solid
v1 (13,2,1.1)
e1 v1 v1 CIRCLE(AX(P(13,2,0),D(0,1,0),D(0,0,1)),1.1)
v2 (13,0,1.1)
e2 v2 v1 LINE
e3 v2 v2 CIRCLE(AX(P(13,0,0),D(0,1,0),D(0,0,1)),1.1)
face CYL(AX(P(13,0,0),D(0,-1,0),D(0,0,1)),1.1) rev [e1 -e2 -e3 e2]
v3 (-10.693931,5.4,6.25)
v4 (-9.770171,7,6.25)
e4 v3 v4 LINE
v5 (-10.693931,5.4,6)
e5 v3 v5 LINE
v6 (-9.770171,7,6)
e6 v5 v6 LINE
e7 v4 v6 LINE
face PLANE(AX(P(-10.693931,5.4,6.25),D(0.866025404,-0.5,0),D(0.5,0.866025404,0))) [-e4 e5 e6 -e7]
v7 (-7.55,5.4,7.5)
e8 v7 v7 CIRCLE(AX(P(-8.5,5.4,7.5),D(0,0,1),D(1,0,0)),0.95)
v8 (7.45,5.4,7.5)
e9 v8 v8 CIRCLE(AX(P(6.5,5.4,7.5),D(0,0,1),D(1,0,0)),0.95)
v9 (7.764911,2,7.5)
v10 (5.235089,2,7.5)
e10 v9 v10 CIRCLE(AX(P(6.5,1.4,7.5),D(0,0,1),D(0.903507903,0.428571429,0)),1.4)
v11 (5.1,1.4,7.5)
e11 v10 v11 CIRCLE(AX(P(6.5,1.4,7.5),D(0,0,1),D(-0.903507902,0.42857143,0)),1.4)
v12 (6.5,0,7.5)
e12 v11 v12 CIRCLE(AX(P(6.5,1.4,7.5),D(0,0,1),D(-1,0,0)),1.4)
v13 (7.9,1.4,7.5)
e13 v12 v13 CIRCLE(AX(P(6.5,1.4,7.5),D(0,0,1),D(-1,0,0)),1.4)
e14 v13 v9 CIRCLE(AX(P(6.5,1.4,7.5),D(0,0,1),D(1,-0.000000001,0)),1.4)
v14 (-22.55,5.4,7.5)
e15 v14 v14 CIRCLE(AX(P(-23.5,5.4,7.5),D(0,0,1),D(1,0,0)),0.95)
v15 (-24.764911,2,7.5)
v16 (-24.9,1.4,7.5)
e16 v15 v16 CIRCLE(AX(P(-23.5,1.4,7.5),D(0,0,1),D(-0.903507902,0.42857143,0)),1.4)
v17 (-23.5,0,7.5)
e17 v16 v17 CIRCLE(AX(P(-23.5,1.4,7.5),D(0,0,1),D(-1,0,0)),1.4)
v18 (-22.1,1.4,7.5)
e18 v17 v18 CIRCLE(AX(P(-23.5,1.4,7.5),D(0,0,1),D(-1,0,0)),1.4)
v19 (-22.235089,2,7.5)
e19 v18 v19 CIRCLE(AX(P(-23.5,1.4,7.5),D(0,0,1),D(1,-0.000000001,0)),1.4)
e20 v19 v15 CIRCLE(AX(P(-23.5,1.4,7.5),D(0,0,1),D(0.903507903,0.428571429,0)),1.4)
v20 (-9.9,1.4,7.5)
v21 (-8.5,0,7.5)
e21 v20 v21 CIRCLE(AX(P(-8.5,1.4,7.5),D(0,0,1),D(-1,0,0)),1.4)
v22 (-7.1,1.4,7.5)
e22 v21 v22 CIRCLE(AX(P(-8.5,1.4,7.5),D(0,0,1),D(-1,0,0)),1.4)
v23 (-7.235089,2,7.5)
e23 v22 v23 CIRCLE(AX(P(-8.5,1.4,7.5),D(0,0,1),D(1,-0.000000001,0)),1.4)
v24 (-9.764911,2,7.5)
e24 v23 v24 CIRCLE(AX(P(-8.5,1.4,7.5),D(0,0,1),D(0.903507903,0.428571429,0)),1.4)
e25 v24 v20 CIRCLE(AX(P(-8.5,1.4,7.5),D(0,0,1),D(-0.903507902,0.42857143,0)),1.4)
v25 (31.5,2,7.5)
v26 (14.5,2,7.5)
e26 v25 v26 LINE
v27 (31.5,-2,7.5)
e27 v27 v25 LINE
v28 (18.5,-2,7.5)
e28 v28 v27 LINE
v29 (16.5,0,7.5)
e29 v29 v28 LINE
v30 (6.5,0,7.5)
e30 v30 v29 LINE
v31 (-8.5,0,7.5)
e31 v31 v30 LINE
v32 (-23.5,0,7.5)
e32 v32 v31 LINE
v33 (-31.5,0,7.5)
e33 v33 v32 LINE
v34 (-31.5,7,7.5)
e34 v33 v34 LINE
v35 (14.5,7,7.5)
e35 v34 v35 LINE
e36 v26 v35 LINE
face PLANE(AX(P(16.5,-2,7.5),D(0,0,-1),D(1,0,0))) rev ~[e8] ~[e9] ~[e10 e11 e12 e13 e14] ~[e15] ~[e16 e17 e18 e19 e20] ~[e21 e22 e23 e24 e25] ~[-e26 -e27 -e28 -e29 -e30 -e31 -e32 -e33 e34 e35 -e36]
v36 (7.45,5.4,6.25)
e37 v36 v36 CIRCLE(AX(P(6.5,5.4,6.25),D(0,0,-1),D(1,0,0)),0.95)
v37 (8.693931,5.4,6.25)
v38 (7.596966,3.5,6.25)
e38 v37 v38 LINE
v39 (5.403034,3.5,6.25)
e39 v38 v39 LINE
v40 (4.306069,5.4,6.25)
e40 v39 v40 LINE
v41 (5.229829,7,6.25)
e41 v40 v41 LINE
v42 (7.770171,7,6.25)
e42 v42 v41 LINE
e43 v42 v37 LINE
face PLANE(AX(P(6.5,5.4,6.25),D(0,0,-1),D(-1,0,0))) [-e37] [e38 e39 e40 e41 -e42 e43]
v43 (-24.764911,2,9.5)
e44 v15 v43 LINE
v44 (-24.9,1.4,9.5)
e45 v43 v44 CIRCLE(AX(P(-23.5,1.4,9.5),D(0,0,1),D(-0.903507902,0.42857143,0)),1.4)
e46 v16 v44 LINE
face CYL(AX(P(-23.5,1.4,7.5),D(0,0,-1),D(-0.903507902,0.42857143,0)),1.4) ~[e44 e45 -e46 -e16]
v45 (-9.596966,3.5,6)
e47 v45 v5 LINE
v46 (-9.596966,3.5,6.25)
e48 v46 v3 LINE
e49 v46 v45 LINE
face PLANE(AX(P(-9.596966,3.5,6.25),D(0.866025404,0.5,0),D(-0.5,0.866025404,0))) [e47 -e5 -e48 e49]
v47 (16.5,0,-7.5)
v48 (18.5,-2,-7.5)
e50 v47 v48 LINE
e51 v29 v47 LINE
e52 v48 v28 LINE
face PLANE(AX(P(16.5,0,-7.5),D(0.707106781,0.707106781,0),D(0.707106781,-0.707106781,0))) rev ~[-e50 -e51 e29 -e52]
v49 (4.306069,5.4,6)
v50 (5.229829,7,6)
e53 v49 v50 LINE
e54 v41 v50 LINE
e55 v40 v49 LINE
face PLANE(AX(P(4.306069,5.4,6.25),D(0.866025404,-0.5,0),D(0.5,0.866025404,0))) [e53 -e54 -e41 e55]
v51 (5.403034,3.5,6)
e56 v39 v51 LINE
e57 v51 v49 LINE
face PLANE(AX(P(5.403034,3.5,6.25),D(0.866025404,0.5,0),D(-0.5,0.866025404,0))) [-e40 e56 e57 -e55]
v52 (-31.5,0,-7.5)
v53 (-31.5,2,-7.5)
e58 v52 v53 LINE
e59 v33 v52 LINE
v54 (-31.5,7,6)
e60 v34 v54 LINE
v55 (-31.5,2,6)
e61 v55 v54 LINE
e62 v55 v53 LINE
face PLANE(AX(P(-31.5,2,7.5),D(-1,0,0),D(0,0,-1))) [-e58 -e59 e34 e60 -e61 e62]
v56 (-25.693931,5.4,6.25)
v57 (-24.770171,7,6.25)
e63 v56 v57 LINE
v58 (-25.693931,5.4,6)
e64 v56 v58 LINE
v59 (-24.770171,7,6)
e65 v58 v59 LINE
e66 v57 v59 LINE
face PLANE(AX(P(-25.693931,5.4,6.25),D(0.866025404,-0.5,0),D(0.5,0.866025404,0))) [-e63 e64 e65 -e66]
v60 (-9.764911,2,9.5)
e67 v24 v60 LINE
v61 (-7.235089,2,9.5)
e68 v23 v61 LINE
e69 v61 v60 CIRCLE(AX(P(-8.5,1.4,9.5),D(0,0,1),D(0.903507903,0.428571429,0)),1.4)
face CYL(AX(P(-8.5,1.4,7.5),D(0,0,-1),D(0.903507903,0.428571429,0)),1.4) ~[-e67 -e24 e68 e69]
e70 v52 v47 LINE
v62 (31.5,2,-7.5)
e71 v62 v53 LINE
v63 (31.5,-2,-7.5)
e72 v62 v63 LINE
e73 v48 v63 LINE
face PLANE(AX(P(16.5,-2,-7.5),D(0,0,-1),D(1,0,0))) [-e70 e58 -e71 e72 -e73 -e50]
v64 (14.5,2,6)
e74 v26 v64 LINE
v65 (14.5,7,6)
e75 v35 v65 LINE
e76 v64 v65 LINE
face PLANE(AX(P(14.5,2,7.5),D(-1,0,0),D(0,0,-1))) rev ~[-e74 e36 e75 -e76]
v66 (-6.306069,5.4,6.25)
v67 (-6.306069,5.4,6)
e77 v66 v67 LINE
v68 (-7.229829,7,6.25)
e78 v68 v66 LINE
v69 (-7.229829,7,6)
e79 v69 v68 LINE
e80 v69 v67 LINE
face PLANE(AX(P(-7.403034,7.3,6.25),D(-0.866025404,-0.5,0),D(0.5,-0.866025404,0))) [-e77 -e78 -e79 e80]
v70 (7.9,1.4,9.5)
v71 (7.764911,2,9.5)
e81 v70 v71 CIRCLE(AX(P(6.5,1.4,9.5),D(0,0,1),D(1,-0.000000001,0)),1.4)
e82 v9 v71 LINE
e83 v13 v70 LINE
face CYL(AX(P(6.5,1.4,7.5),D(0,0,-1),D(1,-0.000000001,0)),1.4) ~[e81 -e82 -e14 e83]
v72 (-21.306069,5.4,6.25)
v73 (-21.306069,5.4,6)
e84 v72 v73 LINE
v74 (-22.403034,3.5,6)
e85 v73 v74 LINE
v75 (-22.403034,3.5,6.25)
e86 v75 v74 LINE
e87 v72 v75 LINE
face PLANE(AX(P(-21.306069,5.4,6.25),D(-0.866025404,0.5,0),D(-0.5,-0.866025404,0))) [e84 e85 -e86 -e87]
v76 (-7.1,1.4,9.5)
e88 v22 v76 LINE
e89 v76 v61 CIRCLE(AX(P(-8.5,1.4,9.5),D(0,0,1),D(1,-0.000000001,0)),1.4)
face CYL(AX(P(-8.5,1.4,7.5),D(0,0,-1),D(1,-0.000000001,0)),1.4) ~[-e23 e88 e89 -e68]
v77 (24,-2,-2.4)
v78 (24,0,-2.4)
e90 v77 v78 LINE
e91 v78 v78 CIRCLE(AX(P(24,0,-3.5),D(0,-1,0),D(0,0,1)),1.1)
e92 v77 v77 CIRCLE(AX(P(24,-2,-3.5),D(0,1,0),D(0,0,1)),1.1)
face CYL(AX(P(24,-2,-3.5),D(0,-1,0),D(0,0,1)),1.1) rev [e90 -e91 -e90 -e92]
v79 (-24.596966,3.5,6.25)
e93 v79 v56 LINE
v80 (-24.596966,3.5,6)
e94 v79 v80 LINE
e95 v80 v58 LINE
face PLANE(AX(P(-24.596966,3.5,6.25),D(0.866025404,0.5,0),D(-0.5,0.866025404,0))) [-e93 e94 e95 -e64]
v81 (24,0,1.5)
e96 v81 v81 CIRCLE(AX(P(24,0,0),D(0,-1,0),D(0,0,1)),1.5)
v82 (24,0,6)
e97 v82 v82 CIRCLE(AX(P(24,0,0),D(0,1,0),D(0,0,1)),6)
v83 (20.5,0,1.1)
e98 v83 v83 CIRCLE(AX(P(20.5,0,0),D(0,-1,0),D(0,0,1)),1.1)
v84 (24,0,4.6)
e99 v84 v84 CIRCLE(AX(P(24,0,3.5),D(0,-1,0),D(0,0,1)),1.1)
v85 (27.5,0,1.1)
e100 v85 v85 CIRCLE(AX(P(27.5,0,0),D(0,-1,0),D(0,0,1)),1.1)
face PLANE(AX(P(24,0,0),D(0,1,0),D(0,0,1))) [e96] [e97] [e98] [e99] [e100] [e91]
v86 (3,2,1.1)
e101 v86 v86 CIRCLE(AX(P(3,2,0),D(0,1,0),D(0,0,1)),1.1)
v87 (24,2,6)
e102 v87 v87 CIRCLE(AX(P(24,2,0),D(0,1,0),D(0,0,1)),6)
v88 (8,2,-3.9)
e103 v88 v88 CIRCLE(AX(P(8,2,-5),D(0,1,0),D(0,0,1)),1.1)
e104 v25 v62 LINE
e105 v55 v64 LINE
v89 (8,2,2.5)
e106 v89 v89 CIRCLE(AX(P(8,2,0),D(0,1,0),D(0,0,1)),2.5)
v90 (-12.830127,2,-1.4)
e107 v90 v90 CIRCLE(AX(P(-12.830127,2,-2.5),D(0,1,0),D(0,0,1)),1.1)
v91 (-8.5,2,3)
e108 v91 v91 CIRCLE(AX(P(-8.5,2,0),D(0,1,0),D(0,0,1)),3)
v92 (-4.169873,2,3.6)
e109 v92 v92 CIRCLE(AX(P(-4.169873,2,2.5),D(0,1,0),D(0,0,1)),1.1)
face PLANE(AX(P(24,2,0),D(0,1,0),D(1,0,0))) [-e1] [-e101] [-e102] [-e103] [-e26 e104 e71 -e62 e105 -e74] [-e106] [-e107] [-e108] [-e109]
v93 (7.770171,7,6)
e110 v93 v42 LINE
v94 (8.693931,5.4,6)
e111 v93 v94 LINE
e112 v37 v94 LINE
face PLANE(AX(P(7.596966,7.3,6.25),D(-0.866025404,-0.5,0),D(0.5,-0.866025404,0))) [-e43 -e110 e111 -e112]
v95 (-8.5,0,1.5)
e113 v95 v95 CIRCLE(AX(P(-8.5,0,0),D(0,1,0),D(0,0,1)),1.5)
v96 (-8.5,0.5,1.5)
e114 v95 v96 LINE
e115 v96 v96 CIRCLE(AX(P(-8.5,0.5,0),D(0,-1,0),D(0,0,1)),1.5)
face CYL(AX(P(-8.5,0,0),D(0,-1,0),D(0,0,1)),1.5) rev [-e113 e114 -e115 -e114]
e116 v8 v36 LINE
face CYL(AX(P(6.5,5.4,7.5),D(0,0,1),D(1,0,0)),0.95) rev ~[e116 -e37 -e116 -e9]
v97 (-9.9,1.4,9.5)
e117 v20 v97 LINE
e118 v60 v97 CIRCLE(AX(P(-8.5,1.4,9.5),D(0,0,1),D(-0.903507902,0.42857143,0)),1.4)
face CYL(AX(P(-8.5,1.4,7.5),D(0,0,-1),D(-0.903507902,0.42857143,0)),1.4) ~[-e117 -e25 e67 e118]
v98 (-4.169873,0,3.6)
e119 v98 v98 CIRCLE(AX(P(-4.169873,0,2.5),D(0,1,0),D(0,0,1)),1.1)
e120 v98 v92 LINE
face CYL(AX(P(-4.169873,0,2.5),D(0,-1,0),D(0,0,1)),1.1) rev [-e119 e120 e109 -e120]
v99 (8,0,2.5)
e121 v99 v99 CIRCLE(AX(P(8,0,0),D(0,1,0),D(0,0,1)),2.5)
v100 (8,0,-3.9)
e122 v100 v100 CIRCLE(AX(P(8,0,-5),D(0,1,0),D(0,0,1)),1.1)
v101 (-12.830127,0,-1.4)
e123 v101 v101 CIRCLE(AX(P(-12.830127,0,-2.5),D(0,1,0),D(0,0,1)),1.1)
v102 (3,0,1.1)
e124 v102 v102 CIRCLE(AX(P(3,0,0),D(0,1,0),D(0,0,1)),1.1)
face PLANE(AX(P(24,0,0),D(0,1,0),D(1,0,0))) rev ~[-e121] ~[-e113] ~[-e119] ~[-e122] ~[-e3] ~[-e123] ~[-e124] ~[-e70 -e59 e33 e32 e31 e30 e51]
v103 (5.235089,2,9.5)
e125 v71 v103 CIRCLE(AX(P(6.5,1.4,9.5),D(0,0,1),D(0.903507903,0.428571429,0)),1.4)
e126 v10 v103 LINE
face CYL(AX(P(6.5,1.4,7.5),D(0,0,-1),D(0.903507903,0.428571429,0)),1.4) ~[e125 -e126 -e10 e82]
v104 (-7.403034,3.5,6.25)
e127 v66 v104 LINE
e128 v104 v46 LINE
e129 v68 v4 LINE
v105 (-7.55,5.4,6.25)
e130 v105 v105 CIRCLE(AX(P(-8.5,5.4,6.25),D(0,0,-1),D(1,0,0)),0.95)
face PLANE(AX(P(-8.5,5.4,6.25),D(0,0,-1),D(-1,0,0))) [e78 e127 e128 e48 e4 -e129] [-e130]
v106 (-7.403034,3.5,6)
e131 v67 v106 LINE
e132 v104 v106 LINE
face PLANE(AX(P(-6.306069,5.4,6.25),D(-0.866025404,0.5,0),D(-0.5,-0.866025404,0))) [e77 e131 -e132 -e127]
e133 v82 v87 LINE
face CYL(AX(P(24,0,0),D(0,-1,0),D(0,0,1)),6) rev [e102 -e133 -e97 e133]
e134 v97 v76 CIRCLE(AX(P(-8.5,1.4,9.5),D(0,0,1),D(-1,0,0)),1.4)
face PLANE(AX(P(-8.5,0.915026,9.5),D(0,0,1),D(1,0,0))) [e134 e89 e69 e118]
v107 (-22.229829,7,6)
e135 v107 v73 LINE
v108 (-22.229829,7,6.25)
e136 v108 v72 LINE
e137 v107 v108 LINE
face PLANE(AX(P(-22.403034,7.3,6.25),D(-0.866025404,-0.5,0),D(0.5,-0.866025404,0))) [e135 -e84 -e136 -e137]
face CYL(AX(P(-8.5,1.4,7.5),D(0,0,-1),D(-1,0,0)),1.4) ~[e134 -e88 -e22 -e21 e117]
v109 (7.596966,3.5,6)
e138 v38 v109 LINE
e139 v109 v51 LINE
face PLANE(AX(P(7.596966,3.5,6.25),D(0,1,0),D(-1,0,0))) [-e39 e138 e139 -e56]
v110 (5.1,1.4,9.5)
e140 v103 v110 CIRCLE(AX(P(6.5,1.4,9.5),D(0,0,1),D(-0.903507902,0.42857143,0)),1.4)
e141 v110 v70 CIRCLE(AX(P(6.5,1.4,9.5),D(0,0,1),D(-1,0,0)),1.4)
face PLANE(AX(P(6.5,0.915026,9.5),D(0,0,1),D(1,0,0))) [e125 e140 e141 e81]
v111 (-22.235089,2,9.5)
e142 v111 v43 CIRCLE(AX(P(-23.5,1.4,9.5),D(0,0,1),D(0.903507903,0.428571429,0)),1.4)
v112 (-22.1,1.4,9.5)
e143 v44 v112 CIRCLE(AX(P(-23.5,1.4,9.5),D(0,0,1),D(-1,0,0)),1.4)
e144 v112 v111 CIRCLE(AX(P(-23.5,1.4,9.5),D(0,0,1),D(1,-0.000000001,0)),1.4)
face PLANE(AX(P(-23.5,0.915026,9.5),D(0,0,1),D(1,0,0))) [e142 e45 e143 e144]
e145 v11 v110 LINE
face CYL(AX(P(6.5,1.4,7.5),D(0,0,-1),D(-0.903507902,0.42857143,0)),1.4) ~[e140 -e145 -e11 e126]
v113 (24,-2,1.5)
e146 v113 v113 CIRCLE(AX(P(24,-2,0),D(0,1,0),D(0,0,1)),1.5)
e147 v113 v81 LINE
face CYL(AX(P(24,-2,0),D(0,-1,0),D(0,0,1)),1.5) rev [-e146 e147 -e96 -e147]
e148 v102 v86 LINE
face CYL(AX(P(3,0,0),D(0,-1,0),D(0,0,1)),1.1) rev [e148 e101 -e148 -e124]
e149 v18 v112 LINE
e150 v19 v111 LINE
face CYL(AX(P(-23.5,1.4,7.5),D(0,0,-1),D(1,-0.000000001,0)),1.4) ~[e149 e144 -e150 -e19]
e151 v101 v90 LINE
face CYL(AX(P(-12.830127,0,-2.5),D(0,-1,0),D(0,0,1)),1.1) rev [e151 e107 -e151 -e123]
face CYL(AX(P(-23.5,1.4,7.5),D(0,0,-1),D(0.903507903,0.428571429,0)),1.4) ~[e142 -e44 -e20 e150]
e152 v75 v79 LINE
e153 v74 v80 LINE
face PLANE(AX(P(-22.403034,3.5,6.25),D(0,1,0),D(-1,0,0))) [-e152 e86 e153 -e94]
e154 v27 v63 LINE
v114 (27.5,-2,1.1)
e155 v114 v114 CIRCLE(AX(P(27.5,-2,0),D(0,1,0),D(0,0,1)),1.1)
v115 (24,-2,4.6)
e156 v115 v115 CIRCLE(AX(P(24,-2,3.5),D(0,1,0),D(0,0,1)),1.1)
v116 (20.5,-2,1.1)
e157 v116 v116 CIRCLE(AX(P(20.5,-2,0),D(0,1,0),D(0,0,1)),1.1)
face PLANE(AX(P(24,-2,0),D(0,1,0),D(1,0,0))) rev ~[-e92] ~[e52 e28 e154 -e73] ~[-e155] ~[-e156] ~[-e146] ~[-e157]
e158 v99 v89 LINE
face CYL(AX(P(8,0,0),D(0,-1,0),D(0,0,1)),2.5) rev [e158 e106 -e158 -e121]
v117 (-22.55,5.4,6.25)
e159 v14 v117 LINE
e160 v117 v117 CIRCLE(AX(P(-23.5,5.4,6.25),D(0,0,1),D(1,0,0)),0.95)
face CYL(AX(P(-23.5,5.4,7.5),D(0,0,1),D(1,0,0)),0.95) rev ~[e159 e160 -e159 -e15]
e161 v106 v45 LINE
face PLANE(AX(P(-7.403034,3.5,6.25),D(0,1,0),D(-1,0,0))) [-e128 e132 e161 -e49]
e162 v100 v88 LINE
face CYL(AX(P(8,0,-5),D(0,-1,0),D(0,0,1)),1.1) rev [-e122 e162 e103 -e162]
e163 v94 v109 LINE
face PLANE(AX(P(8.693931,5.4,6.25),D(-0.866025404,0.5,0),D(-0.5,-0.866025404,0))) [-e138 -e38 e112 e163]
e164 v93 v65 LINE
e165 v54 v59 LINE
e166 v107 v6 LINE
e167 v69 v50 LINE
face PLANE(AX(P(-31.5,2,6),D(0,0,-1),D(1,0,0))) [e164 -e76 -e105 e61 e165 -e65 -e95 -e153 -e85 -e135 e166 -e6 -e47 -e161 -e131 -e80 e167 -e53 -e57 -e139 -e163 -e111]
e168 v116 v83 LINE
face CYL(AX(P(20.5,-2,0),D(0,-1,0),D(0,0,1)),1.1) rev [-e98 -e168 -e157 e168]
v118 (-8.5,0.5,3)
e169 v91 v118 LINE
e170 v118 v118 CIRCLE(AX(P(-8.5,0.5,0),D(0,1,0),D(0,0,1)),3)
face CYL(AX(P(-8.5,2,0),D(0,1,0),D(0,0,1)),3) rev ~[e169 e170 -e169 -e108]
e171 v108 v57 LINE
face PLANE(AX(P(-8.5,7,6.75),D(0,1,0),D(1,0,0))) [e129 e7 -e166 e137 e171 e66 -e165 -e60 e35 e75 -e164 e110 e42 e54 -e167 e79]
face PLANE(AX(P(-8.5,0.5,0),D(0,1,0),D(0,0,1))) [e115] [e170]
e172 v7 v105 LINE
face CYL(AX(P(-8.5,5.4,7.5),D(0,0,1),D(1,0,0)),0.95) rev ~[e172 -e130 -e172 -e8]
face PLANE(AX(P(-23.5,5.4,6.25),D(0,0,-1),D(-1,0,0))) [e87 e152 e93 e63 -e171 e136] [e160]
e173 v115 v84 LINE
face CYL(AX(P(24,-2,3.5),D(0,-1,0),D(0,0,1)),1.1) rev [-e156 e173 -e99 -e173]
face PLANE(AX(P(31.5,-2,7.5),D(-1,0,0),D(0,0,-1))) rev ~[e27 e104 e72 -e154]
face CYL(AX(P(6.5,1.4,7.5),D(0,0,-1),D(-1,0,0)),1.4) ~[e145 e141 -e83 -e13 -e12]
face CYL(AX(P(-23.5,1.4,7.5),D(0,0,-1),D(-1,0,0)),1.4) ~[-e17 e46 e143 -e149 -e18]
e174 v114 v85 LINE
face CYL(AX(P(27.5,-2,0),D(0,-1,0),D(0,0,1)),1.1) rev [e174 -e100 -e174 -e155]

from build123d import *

# Parameters (mm, degrees)
SKETCH_1_W          = 48
SKETCH_1_H          = 15
SKETCH_1_R          = 1.1
SKETCH_1_R_2        = 1.5
SKETCH_1_R_3        = 2.5
EXTRUDE_1_DEPTH     = 2
EXTRUDE_2_DEPTH     = 2
SKETCH_4_R          = 3
CUT_EXTRUDE_1_DEPTH = 1.5
SKETCH_5_W          = 46
SKETCH_5_H          = 1.5
EXTRUDE_3_DEPTH     = 5
SKETCH_2_3_R        = 0.95
CUT_EXTRUDE_2_DEPTH = 6
CUT_EXTRUDE_START   = -0.25
SKETCH_7_R          = 0.95
CUT_EXTRUDE_3_DEPTH = 0.25
SKETCH_1_3_W        = 15
SKETCH_1_3_H        = 15
SKETCH_1_3_R        = 6
SKETCH_1_3_R_2      = 1.5
SKETCH_1_3_R_3      = 1.1
EXTRUDE_4_DEPTH     = 2
EXTRUDE_START       = -2
SKETCH_1_4_W        = 15
SKETCH_1_4_H        = 15
SKETCH_1_4_R        = 6
SKETCH_1_4_R_2      = 1.5
SKETCH_1_4_R_3      = 1.1
EXTRUDE_5_DEPTH     = 2
SKETCH_1_5_R        = 6
CUT_EXTRUDE_4_DEPTH = 2
CUT_EXTRUDE_5_DEPTH = 15


with BuildPart() as part:
    # 草图1 → 凸台-拉伸1 (new body)
    with BuildSketch(Plane(origin=(0, 0, 0), x_dir=(1, 0, 0), z_dir=(0, 1, 0))):
        with Locations((-7.5, 0)):
            Rectangle(SKETCH_1_W, SKETCH_1_H)
        with Locations(Location((-4.169872981, -2.5, 0), (0, 0, 270))):
            Circle(SKETCH_1_R, mode=Mode.SUBTRACT)
        with Locations(Location((3, 0, 0), (0, 0, 270))):
            Circle(SKETCH_1_R, mode=Mode.SUBTRACT)
        with Locations(Location((-8.5, 0, 0), (0, 0, 270))):
            Circle(SKETCH_1_R_2, mode=Mode.SUBTRACT)
        with Locations(Location((-12.830127019, 2.5, 0), (0, 0, 270))):
            Circle(SKETCH_1_R, mode=Mode.SUBTRACT)
        with Locations(Location((8, 0, 0), (0, 0, 270))):
            Circle(SKETCH_1_R_3, mode=Mode.SUBTRACT)
        with Locations(Location((13, 0, 0), (0, 0, 270))):
            Circle(SKETCH_1_R, mode=Mode.SUBTRACT)
        with Locations(Location((8, 5, 0), (0, 0, 270))):
            Circle(SKETCH_1_R, mode=Mode.SUBTRACT)
    extrude(amount=EXTRUDE_1_DEPTH)

    # 草图2 → 凸台-拉伸2 (add)
    with BuildSketch(Plane.XY.offset(7.5)):
        with BuildLine():
            Line((-22.1, 1.4), (-24.9, 1.4))
            ThreePointArc((-24.9, 1.4), (-23.5, 0), (-22.1, 1.4))
        make_face()
        with BuildLine():
            ThreePointArc((-24.764911064, 2), (-24.865810289, 1.707509764), (-24.9, 1.4))
            Line((-24.9, 1.4), (-22.1, 1.4))
            ThreePointArc((-22.1, 1.4), (-22.134189711, 1.707509764), (-22.235088936, 2))
            Line((-22.235088936, 2), (-24.764911064, 2))
        make_face()
        with BuildLine():
            ThreePointArc((-22.235088936, 2), (-23.5, 2.8), (-24.764911064, 2))
            Line((-24.764911064, 2), (-22.235088936, 2))
        make_face()
        with BuildLine():
            Line((-7.1, 1.4), (-9.9, 1.4))
            ThreePointArc((-9.9, 1.4), (-8.5, 0), (-7.1, 1.4))
        make_face()
        with BuildLine():
            ThreePointArc((-9.764911064, 2), (-9.865810289, 1.707509764), (-9.9, 1.4))
            Line((-9.9, 1.4), (-7.1, 1.4))
            ThreePointArc((-7.1, 1.4), (-7.134189711, 1.707509764), (-7.235088936, 2))
            Line((-7.235088936, 2), (-9.764911064, 2))
        make_face()
        with BuildLine():
            ThreePointArc((-7.235088936, 2), (-8.5, 2.8), (-9.764911064, 2))
            Line((-9.764911064, 2), (-7.235088936, 2))
        make_face()
        with BuildLine():
            Line((7.9, 1.4), (5.1, 1.4))
            ThreePointArc((5.1, 1.4), (6.5, 0), (7.9, 1.4))
        make_face()
        with BuildLine():
            ThreePointArc((5.235088936, 2), (5.134189711, 1.707509764), (5.1, 1.4))
            Line((5.1, 1.4), (7.9, 1.4))
            ThreePointArc((7.9, 1.4), (7.865810289, 1.707509764), (7.764911064, 2))
            Line((7.764911064, 2), (5.235088936, 2))
        make_face()
        with BuildLine():
            ThreePointArc((7.764911064, 2), (6.5, 2.8), (5.235088936, 2))
            Line((5.235088936, 2), (7.764911064, 2))
        make_face()
    extrude(amount=EXTRUDE_2_DEPTH)

    # 草图4 → 切除-拉伸1 (cut)
    with BuildSketch(Plane(origin=(0, 2, 0), x_dir=(1, 0, 0), z_dir=(0, 1, 0))):
        with Locations(Location((-8.5, 0, 0), (0, 0, 270))):
            Circle(SKETCH_4_R)
    extrude(amount=-CUT_EXTRUDE_1_DEPTH, mode=Mode.SUBTRACT)

    # 草图5 → 凸台-拉伸3 (add)
    with BuildSketch(Plane(origin=(0, 2, 0), x_dir=(1, 0, 0), z_dir=(0, 1, 0))):
        with Locations((-8.5, -6.75)):
            Rectangle(SKETCH_5_W, SKETCH_5_H)
    extrude(amount=EXTRUDE_3_DEPTH)

    # 草图2<3> → 切除-拉伸2 (cut)
    with BuildSketch(Plane.XY.offset(7.5)):
        with Locations((-23.5, 5.4)):
            Circle(SKETCH_2_3_R)
        with Locations((-8.5, 5.4)):
            Circle(SKETCH_2_3_R)
        with Locations((6.5, 5.4)):
            Circle(SKETCH_2_3_R)
    extrude(amount=-CUT_EXTRUDE_2_DEPTH, mode=Mode.SUBTRACT)

    # 草图7 → 切除-拉伸3 (cut)
    # profile 1 of 3: a face of its own
    with BuildSketch(Plane(origin=(0, 0, 6), x_dir=(-1, 0, 0), z_dir=(0, 0, -1)).offset(CUT_EXTRUDE_START)):
        Polygon((-7.596965511, 3.5), (-5.403034489, 3.5), (-4.306068977, 5.4), (-5.403034489, 7.3), (-7.596965511, 7.3), (-8.693931023, 5.4), align=None)
        with Locations(Location((-6.5, 5.4, 0), (0, 0, 180))):
            Circle(SKETCH_7_R, mode=Mode.SUBTRACT)
    # profile 2 of 3: a face of its own
    with BuildSketch(Plane(origin=(0, 0, 6), x_dir=(-1, 0, 0), z_dir=(0, 0, -1)).offset(CUT_EXTRUDE_START)):
        Polygon((6.306068977, 5.4), (7.403034489, 3.5), (9.596965511, 3.5), (10.693931023, 5.4), (9.596965511, 7.3), (7.403034489, 7.3), align=None)
        with Locations(Location((8.5, 5.4, 0), (0, 0, 180))):
            Circle(SKETCH_7_R, mode=Mode.SUBTRACT)
    # profile 3 of 3: a face of its own
    with BuildSketch(Plane(origin=(0, 0, 6), x_dir=(-1, 0, 0), z_dir=(0, 0, -1)).offset(CUT_EXTRUDE_START)):
        Polygon((21.306068977, 5.4), (22.403034489, 3.5), (24.596965511, 3.5), (25.693931023, 5.4), (24.596965511, 7.3), (22.403034489, 7.3), align=None)
    extrude(amount=CUT_EXTRUDE_3_DEPTH, mode=Mode.SUBTRACT)

    # 草图1<3> → 凸台-拉伸4 (add)
    # profile 1 of 2: a face of its own
    with BuildSketch(Plane(origin=(0, 0, 0), x_dir=(1, 0, 0), z_dir=(0, 1, 0))):
        with Locations((24, 0)):
            Rectangle(SKETCH_1_3_W, SKETCH_1_3_H)
        with Locations((24, 0)):
            Circle(SKETCH_1_3_R, mode=Mode.SUBTRACT)
    # profile 2 of 2: a face of its own
    with BuildSketch(Plane(origin=(0, 0, 0), x_dir=(1, 0, 0), z_dir=(0, 1, 0))):
        with Locations((24, 0)):
            Circle(SKETCH_1_3_R)
        with Locations(Location((24, 0, 0), (0, 0, 270))):
            Circle(SKETCH_1_3_R_2, mode=Mode.SUBTRACT)
        with Locations(Location((27.5, 0, 0), (0, 0, 270))):
            Circle(SKETCH_1_3_R_3, mode=Mode.SUBTRACT)
        with Locations(Location((24, -3.5, 0), (0, 0, 270))):
            Circle(SKETCH_1_3_R_3, mode=Mode.SUBTRACT)
        with Locations(Location((20.5, 0, 0), (0, 0, 270))):
            Circle(SKETCH_1_3_R_3, mode=Mode.SUBTRACT)
        with Locations(Location((24, 3.5, 0), (0, 0, 270))):
            Circle(SKETCH_1_3_R_3, mode=Mode.SUBTRACT)
    extrude(amount=EXTRUDE_4_DEPTH)

    # 草图1<4> → 凸台-拉伸5 (add)
    # profile 1 of 2: a face of its own
    with BuildSketch(Plane(origin=(0, 0, 0), x_dir=(1, 0, 0), z_dir=(0, 1, 0)).offset(EXTRUDE_START)):
        with Locations((24, 0)):
            Rectangle(SKETCH_1_4_W, SKETCH_1_4_H)
        with Locations((24, 0)):
            Circle(SKETCH_1_4_R, mode=Mode.SUBTRACT)
    # profile 2 of 2: a face of its own
    with BuildSketch(Plane(origin=(0, 0, 0), x_dir=(1, 0, 0), z_dir=(0, 1, 0)).offset(EXTRUDE_START)):
        with Locations((24, 0)):
            Circle(SKETCH_1_4_R)
        with Locations(Location((24, 0, 0), (0, 0, 270))):
            Circle(SKETCH_1_4_R_2, mode=Mode.SUBTRACT)
        with Locations(Location((27.5, 0, 0), (0, 0, 270))):
            Circle(SKETCH_1_4_R_3, mode=Mode.SUBTRACT)
        with Locations(Location((24, -3.5, 0), (0, 0, 270))):
            Circle(SKETCH_1_4_R_3, mode=Mode.SUBTRACT)
        with Locations(Location((20.5, 0, 0), (0, 0, 270))):
            Circle(SKETCH_1_4_R_3, mode=Mode.SUBTRACT)
        with Locations(Location((24, 3.5, 0), (0, 0, 270))):
            Circle(SKETCH_1_4_R_3, mode=Mode.SUBTRACT)
    extrude(amount=EXTRUDE_5_DEPTH)

    # 草图1<5> → 切除-拉伸4 (cut)
    with BuildSketch(Plane(origin=(0, 0, 0), x_dir=(1, 0, 0), z_dir=(0, 1, 0))):
        with Locations(Location((24, 0, 0), (0, 0, 270))):
            Circle(SKETCH_1_5_R)
    extrude(amount=CUT_EXTRUDE_4_DEPTH, mode=Mode.SUBTRACT)

    # 草图8 → 切除-拉伸5 (cut)
    with BuildSketch(Plane(origin=(0, 0, -7.5), x_dir=(-1, 0, 0), z_dir=(0, 0, -1))):
        Polygon((-16.5, 0), (-18.5, -2), (-16.5, -2), align=None)
    extrude(amount=-CUT_EXTRUDE_5_DEPTH, mode=Mode.SUBTRACT)


solid = part.part
